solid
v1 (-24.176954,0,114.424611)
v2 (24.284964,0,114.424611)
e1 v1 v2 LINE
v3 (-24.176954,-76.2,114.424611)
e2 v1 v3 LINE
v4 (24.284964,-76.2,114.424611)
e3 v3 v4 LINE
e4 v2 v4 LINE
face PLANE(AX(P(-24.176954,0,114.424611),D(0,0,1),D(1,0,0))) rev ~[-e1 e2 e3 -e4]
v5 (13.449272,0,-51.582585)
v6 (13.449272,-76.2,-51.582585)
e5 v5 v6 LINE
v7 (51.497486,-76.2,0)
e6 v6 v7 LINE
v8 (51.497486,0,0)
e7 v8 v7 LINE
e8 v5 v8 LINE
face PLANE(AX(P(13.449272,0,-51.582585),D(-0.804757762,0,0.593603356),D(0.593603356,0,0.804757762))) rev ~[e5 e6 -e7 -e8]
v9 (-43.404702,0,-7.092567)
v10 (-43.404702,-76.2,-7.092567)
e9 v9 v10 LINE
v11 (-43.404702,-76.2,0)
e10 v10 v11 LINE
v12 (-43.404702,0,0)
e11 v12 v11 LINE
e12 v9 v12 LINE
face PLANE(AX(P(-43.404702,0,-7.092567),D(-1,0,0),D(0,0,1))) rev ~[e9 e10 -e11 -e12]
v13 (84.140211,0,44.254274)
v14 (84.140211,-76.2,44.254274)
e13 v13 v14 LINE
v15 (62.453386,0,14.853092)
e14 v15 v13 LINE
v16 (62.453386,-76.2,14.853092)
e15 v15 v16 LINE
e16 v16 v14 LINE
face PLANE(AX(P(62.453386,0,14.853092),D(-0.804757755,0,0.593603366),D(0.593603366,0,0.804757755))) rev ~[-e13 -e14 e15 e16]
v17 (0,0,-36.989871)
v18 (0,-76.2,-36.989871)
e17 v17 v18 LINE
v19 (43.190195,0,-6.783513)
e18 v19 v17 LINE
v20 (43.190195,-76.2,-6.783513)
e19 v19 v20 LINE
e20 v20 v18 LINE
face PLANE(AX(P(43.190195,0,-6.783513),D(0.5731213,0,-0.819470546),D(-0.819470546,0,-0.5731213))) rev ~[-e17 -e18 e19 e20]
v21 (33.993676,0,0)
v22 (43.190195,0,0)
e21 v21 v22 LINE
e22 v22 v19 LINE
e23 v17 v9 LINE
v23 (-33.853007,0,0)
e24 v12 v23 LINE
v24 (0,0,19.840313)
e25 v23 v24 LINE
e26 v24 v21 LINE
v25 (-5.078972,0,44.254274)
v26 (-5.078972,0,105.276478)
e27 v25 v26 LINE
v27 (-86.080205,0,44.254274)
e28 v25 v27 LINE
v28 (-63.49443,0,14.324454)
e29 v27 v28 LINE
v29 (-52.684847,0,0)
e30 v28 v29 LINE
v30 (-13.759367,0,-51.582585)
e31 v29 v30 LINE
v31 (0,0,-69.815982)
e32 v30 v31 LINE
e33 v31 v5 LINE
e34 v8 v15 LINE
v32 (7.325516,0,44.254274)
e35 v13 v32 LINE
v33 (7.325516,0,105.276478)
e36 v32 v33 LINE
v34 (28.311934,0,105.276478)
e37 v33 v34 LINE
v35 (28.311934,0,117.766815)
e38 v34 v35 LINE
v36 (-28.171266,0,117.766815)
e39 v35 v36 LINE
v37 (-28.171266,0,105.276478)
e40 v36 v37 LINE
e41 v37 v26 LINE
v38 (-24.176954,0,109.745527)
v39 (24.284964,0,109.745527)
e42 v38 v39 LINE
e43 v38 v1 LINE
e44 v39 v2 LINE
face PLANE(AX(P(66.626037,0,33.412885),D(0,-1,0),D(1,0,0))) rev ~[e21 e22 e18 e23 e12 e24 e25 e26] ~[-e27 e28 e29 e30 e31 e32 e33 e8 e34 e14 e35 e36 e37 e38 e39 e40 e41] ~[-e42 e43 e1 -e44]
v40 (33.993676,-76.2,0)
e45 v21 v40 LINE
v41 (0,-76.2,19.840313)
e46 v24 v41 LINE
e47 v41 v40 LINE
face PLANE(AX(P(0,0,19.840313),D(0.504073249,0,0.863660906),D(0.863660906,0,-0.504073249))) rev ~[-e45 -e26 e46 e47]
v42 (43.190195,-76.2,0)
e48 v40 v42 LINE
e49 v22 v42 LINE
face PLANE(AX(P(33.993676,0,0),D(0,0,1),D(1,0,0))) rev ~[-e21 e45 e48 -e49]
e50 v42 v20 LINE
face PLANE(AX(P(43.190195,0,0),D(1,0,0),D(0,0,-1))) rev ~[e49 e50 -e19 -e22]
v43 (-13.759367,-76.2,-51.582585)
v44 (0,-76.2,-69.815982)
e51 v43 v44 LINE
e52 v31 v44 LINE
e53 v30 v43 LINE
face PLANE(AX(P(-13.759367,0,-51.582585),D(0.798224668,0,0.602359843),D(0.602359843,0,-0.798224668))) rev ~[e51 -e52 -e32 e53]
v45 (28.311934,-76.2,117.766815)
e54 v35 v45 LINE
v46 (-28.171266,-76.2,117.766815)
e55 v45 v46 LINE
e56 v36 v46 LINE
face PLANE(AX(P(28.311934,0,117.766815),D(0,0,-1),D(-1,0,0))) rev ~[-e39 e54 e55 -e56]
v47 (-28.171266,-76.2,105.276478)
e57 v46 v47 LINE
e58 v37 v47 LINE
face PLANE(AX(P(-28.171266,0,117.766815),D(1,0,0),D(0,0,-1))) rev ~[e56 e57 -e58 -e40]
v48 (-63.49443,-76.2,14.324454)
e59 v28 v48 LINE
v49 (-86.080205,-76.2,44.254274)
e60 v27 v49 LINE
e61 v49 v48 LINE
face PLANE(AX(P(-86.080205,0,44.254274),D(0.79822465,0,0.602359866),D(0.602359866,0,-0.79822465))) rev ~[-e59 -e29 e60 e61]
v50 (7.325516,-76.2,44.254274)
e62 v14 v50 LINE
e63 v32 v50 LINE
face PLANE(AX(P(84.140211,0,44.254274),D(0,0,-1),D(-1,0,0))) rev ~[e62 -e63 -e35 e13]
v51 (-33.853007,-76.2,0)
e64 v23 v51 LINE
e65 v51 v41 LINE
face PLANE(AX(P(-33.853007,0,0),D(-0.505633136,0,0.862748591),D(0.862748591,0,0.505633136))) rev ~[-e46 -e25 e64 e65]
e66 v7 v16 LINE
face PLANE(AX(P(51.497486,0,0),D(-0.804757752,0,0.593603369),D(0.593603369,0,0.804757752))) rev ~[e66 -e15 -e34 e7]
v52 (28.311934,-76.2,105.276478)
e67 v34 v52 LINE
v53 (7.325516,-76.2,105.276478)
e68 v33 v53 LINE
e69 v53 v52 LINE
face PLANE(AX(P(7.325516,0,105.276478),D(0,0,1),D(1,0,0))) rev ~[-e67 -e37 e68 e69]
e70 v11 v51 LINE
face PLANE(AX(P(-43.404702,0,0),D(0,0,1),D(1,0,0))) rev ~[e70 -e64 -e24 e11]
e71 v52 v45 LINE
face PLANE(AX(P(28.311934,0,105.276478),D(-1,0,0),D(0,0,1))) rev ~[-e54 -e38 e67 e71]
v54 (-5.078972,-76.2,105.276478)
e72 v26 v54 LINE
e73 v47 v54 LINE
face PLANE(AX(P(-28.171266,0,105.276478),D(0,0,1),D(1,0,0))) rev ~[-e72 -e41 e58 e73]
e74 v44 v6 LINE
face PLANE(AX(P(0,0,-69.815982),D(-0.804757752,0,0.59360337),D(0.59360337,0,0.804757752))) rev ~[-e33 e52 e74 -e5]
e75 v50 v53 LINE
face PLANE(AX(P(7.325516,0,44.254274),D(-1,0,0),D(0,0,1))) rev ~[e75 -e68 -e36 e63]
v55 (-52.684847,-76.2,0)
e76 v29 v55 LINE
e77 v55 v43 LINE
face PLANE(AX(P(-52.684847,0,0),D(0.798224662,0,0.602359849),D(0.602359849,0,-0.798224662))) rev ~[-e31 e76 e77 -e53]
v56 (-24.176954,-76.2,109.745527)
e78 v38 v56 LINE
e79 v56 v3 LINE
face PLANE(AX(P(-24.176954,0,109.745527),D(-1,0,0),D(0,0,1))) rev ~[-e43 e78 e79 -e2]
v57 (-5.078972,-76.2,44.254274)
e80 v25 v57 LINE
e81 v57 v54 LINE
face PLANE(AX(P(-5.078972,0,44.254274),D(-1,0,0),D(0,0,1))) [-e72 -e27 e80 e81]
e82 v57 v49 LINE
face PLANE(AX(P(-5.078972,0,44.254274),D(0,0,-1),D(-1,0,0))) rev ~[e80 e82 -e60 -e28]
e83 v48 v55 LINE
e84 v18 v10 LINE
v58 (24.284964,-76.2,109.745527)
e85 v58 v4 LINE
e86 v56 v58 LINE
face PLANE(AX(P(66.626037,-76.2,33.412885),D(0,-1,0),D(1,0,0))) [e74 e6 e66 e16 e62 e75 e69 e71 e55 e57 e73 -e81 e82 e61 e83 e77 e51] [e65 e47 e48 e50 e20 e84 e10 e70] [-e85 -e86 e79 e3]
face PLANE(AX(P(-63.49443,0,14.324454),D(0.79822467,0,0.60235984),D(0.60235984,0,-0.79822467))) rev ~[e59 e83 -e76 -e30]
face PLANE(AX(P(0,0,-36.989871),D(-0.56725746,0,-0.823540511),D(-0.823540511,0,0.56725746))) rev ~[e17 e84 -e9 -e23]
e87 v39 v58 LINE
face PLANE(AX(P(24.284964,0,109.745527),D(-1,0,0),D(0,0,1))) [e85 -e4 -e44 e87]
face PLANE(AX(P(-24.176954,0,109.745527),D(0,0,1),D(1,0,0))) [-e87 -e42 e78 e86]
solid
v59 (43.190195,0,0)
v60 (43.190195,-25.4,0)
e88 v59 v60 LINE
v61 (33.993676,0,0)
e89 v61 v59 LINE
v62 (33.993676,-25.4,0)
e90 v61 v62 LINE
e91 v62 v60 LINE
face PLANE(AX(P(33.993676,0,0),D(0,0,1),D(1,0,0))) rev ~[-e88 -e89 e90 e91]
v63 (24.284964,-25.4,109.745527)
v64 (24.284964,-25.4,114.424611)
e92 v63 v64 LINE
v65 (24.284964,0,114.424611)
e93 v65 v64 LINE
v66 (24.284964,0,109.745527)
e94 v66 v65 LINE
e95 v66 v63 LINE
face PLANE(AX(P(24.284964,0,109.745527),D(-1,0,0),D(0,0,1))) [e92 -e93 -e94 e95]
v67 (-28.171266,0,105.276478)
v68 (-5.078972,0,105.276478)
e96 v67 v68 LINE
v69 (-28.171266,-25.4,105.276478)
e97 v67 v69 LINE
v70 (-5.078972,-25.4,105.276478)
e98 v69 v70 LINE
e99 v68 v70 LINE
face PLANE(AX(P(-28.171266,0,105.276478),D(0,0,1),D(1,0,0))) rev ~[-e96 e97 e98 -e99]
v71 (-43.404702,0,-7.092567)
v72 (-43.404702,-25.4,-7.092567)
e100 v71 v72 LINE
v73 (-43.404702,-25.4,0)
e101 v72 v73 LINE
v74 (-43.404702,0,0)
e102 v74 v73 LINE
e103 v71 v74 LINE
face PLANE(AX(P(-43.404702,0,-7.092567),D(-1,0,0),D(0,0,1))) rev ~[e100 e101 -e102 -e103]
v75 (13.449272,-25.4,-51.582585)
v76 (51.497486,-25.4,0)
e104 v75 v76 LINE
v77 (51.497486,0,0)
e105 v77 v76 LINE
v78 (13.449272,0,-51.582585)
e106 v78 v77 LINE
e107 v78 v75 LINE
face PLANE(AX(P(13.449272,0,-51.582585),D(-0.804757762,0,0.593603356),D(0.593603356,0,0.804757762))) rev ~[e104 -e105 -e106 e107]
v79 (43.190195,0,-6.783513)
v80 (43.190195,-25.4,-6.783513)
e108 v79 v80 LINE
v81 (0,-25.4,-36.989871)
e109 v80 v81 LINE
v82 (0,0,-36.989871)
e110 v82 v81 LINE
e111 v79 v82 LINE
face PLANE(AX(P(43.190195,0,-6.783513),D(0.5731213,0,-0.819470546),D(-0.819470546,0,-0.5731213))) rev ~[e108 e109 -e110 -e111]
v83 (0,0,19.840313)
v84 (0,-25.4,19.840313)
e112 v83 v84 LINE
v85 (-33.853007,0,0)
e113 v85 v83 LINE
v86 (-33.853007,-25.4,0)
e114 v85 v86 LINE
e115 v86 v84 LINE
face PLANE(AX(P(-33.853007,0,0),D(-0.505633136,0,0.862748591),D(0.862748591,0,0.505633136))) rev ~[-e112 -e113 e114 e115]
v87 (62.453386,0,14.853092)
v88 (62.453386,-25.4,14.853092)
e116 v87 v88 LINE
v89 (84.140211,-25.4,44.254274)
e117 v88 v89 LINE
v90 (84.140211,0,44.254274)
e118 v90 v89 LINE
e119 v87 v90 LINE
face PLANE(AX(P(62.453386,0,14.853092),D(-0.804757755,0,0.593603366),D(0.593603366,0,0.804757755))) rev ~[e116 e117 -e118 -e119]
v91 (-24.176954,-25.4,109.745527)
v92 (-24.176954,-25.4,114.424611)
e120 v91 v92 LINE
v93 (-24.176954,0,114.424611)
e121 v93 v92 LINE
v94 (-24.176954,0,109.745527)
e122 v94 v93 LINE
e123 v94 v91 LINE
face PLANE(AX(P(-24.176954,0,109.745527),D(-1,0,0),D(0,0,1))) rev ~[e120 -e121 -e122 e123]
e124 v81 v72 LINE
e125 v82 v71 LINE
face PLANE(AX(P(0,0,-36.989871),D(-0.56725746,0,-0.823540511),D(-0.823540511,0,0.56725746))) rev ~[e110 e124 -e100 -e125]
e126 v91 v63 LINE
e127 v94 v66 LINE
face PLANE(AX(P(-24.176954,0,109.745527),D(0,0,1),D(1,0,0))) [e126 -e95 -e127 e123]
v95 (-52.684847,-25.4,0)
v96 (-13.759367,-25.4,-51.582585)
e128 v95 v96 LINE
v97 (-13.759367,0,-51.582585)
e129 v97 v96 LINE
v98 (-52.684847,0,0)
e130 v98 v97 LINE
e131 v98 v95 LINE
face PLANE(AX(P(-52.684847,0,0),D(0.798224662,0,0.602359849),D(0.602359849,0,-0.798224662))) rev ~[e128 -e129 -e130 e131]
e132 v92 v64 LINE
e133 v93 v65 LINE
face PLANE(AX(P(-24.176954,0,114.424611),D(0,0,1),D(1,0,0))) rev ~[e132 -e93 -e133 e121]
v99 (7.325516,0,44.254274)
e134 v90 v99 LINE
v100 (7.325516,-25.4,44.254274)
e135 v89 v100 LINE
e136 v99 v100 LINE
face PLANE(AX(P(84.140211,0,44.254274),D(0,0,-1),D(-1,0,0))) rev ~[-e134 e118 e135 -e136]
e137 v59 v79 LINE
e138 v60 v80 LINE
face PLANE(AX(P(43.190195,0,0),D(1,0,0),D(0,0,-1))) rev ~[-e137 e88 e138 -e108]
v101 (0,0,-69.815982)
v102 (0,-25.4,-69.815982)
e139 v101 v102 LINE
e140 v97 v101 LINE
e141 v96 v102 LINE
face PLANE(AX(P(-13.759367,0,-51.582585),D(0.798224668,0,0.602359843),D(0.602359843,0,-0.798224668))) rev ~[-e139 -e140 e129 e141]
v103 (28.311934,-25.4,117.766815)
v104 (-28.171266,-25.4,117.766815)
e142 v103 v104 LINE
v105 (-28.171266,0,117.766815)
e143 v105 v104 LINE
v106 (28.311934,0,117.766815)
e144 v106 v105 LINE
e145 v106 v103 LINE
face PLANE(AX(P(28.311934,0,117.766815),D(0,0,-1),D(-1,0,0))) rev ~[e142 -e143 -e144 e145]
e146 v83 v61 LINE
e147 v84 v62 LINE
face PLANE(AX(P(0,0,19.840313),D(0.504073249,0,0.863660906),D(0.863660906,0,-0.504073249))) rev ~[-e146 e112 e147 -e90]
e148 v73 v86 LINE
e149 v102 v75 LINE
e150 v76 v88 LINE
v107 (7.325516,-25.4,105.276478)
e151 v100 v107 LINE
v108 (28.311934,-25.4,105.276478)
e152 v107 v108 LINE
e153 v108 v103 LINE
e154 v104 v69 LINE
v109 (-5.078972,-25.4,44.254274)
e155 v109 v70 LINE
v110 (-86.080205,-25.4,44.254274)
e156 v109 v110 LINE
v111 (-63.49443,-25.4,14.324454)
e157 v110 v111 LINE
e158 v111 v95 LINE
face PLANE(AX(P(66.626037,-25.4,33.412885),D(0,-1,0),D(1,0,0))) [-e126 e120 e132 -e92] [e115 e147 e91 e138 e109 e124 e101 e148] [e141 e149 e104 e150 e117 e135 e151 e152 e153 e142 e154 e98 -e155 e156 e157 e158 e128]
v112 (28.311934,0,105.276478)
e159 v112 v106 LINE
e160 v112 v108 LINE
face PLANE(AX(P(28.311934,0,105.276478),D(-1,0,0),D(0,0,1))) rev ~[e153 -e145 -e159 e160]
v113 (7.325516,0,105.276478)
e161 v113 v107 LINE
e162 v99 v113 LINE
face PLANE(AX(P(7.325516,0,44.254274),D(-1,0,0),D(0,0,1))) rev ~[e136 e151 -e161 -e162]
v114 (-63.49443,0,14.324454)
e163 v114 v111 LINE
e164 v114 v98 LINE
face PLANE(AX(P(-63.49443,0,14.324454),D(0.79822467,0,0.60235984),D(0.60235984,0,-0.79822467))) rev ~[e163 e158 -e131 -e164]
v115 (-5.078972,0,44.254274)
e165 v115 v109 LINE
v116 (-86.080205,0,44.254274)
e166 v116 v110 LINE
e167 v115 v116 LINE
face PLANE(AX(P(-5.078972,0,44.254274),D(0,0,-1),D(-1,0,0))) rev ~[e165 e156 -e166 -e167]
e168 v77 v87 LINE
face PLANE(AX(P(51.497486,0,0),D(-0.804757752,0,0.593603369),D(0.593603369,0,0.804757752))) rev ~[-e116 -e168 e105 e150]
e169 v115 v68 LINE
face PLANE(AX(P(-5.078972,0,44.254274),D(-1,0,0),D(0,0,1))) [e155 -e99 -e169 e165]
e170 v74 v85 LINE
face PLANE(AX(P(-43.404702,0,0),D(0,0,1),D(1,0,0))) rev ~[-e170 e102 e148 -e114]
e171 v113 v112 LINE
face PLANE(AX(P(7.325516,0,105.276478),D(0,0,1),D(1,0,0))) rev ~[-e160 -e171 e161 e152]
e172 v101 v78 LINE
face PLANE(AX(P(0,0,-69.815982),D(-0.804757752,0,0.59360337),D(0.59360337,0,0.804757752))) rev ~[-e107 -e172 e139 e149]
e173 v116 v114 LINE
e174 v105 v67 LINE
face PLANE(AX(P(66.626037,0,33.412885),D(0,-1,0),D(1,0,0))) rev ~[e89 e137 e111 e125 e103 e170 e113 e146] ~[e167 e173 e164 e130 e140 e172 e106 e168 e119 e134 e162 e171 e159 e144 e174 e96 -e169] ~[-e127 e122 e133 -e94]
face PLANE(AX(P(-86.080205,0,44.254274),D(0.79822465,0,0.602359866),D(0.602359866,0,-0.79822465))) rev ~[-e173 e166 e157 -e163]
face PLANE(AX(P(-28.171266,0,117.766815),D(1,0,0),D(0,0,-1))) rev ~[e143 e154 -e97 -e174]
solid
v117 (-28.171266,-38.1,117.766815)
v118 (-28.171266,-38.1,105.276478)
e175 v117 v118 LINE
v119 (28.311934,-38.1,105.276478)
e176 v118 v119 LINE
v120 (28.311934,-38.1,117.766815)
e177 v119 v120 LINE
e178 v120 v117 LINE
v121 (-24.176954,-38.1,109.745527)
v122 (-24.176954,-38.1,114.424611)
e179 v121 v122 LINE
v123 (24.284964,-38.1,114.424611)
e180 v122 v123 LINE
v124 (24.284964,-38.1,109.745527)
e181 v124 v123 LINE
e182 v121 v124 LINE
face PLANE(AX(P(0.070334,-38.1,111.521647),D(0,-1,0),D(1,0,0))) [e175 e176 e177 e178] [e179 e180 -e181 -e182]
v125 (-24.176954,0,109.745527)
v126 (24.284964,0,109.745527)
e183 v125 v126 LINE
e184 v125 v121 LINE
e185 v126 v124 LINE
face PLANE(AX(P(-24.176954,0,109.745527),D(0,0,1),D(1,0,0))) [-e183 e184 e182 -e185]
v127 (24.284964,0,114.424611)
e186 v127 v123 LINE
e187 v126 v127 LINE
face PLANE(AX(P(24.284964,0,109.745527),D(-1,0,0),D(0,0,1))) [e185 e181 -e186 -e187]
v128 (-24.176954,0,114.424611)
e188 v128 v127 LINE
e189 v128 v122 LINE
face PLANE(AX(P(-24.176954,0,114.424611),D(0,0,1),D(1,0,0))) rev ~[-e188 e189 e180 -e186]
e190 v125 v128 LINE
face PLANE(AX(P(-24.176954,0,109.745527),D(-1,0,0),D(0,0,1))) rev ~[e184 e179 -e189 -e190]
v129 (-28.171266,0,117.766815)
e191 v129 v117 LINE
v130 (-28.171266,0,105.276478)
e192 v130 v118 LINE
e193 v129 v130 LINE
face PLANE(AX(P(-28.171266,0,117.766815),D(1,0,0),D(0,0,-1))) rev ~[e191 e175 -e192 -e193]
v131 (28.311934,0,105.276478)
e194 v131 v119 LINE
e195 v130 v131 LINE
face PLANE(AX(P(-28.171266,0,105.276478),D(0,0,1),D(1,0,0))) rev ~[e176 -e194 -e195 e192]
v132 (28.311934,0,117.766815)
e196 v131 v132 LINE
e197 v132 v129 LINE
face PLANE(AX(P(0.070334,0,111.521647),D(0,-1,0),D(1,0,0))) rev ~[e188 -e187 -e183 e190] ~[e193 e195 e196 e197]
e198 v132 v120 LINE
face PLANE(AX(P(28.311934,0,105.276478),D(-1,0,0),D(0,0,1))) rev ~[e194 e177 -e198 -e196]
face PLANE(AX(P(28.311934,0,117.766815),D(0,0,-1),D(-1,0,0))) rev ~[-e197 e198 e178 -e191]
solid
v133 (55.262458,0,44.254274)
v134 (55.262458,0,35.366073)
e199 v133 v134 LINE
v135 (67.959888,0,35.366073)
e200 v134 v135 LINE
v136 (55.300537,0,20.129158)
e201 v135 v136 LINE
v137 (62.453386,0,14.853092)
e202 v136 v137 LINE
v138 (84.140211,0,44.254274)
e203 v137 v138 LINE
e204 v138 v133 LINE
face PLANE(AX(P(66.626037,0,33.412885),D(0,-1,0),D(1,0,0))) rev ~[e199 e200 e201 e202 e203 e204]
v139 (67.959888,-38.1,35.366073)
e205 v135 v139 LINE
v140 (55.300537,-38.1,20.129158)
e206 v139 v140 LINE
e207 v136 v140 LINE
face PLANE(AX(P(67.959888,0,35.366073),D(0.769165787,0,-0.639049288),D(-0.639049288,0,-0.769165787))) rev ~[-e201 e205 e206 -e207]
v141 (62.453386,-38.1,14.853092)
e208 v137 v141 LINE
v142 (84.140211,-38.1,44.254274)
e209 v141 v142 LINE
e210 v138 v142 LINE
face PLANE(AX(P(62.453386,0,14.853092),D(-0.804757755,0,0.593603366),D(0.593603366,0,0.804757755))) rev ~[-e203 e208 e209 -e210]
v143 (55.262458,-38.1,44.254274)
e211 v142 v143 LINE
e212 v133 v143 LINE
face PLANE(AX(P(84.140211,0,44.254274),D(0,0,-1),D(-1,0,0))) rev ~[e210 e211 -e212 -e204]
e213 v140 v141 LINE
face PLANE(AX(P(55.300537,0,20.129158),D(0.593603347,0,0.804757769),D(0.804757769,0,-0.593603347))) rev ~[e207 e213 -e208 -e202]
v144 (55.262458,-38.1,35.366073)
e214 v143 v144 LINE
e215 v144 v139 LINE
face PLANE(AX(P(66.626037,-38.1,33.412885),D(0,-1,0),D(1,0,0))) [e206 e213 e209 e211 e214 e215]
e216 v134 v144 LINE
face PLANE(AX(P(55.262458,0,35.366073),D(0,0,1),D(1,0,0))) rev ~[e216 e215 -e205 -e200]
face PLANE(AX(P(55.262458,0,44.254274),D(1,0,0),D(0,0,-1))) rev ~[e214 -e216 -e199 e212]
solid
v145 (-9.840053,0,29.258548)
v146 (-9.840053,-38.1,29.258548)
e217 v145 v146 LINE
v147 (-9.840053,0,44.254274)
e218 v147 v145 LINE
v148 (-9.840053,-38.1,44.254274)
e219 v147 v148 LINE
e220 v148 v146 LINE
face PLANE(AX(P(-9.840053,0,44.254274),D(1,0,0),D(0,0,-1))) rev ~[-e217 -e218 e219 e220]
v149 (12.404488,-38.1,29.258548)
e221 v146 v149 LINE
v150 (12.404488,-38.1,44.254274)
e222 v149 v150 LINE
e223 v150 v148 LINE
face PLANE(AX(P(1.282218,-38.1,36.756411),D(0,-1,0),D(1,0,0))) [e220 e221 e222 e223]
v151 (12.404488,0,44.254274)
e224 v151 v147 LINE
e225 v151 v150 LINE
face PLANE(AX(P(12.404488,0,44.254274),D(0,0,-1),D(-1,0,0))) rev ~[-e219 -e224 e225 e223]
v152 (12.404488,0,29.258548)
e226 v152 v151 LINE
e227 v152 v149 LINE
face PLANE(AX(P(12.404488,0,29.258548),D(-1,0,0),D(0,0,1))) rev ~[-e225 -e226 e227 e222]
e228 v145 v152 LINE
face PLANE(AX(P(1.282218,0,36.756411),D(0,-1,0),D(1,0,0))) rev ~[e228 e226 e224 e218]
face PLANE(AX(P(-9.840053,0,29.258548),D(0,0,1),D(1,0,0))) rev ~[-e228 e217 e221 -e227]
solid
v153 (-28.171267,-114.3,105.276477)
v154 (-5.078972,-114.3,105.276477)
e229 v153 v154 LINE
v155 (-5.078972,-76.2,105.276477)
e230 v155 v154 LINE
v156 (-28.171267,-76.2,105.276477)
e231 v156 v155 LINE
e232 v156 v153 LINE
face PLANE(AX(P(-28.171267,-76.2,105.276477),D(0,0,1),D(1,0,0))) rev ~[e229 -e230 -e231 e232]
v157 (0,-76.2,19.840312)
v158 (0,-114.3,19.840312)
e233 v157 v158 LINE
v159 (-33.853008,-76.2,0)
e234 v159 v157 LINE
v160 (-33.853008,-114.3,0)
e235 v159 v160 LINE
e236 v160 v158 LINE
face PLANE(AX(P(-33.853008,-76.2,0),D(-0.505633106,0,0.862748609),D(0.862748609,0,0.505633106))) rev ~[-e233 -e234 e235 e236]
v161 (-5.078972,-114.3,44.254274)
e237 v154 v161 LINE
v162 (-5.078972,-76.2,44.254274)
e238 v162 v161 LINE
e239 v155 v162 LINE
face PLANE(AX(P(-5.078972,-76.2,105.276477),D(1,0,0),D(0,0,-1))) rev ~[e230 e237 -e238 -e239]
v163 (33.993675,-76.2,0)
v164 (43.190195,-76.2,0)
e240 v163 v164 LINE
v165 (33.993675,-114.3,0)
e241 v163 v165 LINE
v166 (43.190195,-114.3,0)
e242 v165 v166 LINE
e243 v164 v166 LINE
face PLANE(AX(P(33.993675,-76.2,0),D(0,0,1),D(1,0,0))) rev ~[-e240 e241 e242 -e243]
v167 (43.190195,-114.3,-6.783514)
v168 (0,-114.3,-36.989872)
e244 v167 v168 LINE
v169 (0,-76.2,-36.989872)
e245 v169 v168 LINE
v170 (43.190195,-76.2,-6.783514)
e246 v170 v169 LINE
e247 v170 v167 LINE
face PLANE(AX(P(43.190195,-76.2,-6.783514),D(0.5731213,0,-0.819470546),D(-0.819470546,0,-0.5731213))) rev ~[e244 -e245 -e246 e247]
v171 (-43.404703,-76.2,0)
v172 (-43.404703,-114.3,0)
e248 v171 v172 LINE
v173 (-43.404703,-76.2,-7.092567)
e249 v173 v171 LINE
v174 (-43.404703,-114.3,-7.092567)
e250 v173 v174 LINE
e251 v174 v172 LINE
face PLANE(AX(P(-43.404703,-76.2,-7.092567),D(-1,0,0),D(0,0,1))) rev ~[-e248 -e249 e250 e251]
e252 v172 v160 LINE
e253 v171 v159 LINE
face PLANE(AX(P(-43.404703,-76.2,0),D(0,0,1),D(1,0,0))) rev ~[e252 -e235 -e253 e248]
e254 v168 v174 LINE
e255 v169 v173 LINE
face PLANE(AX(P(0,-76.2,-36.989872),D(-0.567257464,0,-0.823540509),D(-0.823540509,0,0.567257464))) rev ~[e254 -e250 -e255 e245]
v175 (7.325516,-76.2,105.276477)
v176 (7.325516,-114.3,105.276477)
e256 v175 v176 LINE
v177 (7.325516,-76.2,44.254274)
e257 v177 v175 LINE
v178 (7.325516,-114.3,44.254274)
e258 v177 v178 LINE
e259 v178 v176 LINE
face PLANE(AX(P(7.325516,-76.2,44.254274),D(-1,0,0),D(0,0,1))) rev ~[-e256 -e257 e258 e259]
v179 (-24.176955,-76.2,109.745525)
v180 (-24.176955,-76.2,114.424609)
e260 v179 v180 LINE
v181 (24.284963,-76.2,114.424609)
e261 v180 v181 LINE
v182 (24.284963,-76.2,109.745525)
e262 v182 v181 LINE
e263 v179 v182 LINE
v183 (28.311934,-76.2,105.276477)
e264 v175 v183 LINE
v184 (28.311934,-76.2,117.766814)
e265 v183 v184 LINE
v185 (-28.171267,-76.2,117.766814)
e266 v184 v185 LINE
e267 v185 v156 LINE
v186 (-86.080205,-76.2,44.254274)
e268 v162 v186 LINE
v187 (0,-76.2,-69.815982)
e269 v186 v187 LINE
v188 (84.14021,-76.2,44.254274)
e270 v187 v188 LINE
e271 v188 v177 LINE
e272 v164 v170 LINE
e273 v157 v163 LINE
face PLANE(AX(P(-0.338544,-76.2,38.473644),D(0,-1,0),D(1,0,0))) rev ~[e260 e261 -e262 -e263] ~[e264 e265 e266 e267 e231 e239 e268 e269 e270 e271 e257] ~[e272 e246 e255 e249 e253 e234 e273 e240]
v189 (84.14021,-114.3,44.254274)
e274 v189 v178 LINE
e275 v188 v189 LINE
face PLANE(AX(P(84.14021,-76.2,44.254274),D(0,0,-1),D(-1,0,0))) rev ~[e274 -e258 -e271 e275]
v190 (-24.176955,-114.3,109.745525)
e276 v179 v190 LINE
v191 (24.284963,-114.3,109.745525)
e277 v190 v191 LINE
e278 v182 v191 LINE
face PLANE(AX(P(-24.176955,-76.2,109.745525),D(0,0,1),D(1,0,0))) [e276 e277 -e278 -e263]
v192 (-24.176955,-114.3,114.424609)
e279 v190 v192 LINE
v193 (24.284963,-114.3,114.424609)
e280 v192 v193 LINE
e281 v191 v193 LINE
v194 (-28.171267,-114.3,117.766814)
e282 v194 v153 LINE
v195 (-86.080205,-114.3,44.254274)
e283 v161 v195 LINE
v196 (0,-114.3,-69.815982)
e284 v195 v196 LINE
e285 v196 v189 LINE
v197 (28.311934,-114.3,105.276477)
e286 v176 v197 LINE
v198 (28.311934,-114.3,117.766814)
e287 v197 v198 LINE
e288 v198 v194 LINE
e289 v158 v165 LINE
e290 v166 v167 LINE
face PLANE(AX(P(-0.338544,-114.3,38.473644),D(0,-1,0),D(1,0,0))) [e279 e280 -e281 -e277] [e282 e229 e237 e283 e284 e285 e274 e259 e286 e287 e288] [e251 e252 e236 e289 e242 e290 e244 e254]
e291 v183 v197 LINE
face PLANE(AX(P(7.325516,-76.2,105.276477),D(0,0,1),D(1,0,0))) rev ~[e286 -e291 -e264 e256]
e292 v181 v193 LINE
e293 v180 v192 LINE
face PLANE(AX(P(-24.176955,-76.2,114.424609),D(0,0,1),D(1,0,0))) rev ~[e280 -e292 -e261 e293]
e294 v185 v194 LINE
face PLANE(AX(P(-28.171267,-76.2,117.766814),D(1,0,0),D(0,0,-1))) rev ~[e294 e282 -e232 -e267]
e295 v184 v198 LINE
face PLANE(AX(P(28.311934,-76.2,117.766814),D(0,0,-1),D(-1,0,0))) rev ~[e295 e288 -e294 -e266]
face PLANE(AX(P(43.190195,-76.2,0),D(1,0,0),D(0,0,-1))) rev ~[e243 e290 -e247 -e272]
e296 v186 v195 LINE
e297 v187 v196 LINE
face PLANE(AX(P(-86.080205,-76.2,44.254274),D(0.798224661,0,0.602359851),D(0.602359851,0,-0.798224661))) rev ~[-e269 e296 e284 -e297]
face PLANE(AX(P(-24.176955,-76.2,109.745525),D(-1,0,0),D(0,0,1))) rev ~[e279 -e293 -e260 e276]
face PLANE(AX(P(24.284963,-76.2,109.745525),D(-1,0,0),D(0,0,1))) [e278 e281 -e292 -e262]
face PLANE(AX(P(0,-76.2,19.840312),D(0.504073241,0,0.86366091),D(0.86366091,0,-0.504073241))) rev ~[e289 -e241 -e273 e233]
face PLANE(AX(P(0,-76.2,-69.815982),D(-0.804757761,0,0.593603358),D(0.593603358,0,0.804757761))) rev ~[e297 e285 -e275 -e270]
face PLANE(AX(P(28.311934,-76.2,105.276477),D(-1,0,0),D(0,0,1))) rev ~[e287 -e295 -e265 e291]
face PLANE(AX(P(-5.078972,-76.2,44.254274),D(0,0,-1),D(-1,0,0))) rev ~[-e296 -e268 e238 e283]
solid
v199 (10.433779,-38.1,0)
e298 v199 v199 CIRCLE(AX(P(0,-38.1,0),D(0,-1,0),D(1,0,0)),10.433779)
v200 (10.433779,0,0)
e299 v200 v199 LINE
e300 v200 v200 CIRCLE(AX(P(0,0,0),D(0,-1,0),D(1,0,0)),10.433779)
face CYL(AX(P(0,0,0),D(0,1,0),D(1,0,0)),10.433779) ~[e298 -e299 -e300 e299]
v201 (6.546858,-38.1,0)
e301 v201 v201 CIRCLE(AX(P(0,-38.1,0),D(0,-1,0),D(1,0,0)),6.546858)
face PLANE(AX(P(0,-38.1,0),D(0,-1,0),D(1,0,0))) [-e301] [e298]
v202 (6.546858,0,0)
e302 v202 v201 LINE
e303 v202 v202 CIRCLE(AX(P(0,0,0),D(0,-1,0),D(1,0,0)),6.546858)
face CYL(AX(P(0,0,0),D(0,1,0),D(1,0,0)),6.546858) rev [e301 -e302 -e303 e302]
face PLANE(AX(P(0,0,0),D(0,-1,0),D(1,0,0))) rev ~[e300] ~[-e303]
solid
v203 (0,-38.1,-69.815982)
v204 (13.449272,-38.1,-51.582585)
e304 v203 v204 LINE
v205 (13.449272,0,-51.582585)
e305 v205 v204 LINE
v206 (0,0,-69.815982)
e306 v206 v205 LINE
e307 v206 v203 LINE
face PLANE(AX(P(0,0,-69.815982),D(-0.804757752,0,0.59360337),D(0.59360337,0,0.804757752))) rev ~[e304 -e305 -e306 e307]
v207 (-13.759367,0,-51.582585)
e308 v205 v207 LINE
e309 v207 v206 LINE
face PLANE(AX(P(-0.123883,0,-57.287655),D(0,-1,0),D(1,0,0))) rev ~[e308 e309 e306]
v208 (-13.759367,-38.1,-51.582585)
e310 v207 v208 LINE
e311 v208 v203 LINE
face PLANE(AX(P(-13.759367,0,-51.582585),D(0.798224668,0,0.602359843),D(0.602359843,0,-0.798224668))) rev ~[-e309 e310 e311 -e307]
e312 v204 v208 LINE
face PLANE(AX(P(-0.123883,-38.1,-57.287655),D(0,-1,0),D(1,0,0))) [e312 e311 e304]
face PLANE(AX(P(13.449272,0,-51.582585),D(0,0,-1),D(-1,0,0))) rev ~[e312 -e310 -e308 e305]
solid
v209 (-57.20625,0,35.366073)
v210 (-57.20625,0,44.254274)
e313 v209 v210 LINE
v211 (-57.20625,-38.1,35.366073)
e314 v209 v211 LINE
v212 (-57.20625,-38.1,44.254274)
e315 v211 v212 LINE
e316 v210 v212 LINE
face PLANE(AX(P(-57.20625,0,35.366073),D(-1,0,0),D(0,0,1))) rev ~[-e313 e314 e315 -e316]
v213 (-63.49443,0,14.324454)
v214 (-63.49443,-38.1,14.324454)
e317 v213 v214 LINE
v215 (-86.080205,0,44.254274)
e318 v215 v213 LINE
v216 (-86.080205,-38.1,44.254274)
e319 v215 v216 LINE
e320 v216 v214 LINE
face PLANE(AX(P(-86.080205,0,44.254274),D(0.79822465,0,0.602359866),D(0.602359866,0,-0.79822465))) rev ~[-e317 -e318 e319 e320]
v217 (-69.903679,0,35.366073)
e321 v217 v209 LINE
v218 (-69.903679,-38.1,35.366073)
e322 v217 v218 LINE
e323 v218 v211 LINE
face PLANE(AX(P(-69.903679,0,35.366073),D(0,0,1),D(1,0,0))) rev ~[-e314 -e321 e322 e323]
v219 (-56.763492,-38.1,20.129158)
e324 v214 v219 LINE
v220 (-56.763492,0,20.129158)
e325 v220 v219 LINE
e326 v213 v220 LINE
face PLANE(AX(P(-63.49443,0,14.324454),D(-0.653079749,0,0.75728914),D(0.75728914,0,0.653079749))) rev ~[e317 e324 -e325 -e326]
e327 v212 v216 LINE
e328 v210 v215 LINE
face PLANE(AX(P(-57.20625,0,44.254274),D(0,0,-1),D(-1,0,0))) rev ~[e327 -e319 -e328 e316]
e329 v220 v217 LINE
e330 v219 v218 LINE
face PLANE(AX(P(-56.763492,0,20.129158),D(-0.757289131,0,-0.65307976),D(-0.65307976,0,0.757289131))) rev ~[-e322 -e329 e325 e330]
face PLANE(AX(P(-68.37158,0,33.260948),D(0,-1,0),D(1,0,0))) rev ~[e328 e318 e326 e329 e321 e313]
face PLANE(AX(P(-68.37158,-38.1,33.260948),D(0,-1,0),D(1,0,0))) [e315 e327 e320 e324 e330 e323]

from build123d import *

# Parameters (mm, degrees)
F0_W      = 48.461918
F0_H      = 4.679083
F0_R      = 10.433779
F0_R_2    = 6.546858
F1_DEPTH  = 38.1
F0_W_2    = 12.404488
F0_H_2    = 61.022204
F2_DEPTH  = 76.2
F2_FACE_W = 48.461918
F2_FACE_H = 4.679083
F3_DEPTH  = 38.1
F4_DEPTH  = 25.4


with BuildPart() as f1:
    # F0 (on Front) → F1 (new body)
    with BuildSketch(Plane.XZ):
        Polygon((62.453386, 14.853092), (84.140211, 44.254274), (55.262458, 44.254274), (55.262458, 35.366073), (67.959888, 35.366073), (55.300537, 20.129158), align=None)
        Polygon((0, -69.815982), (13.449272, -51.582585), (-13.759367, -51.582585), align=None)
        Polygon((-86.080205, 44.254274), (-63.49443, 14.324454), (-56.763492, 20.129158), (-69.903679, 35.366073), (-57.20625, 35.366073), (-57.20625, 44.254274), align=None)
        Polygon((12.404488, 29.258548), (12.404488, 44.254274), (7.325516, 44.254274), (-5.078972, 44.254274), (-9.840053, 44.254274), (-9.840053, 29.258548), align=None)
        Polygon((-5.078972, 105.276478), (7.325516, 105.276478), (28.311934, 105.276478), (28.311934, 117.766815), (-28.171266, 117.766815), (-28.171266, 105.276478), align=None)
        with Locations((0.054005, 112.085069)):
            Rectangle(F0_W, F0_H, mode=Mode.SUBTRACT)
        Circle(F0_R)
        Circle(F0_R_2, mode=Mode.SUBTRACT)
    extrude(amount=F1_DEPTH)


with BuildPart() as f2:
    # F0 (on Front) → F2 (new body)
    with BuildSketch(Plane.XZ):
        Polygon((62.453386, 14.853092), (84.140211, 44.254274), (55.262458, 44.254274), (55.262458, 35.366073), (67.959888, 35.366073), (55.300537, 20.129158), align=None)
        Polygon((51.497486, 0), (62.453386, 14.853092), (55.300537, 20.129158), (67.959888, 35.366073), (55.262458, 35.366073), (55.262458, 44.254274), (26.752584, 44.254274), (26.752584, 29.258548), (48.084265, 29.258548), (31.147928, 15.80614), (47.033537, 11.320921), (33.993676, 0), (43.190195, 0), align=None)
        Polygon((13.449272, -51.582585), (51.497486, 0), (43.190195, 0), (43.190195, -6.783513), (0, -36.989871), (-43.404702, -7.092567), (-43.404702, 0), (-52.684847, 0), (-13.759367, -51.582585), align=None)
        Polygon((26.752584, 29.258548), (26.752584, 44.254274), (12.404488, 44.254274), (12.404488, 29.258548), (-9.840053, 29.258548), (-9.840053, 44.254274), (-24.176954, 44.254274), (-24.176954, 29.258548), (-45.508636, 29.258548), (-33.828657, 17.594593), (-48.606484, 8.974194), (-33.853007, 0), (0, 19.840313), (33.993676, 0), (47.033537, 11.320921), (31.147928, 15.80614), (48.084265, 29.258548), align=None)
        Polygon((0, -69.815982), (13.449272, -51.582585), (-13.759367, -51.582585), align=None)
        Polygon((12.404488, 29.258548), (12.404488, 44.254274), (7.325516, 44.254274), (-5.078972, 44.254274), (-9.840053, 44.254274), (-9.840053, 29.258548), align=None)
        with Locations((1.123272, 74.765376)):
            Rectangle(F0_W_2, F0_H_2)
        Polygon((-63.49443, 14.324454), (-52.684847, 0), (-43.404702, 0), (-41.229746, 0), (-33.853007, 0), (-48.606484, 8.974194), (-33.828657, 17.594593), (-45.508636, 29.258548), (-24.176954, 29.258548), (-24.176954, 44.254274), (-57.20625, 44.254274), (-57.20625, 35.366073), (-69.903679, 35.366073), (-56.763492, 20.129158), align=None)
        Polygon((-5.078972, 105.276478), (7.325516, 105.276478), (28.311934, 105.276478), (28.311934, 117.766815), (-28.171266, 117.766815), (-28.171266, 105.276478), align=None)
        with Locations((0.054005, 112.085069)):
            Rectangle(F0_W, F0_H, mode=Mode.SUBTRACT)
        Polygon((-86.080205, 44.254274), (-63.49443, 14.324454), (-56.763492, 20.129158), (-69.903679, 35.366073), (-57.20625, 35.366073), (-57.20625, 44.254274), align=None)
    extrude(amount=F2_DEPTH)


with BuildPart() as f3:
    # F2_face (on face) → F3 (new body)
    with BuildSketch(Plane(origin=(-0.605972, -76.2, 22.707464), x_dir=(1, 0, 0), z_dir=(0, -1, 0))):
        Polygon((7.931488, 82.569013), (28.917906, 82.569013), (28.917906, 95.05935), (-27.565295, 95.05935), (-27.565295, 82.569013), (-4.473, 82.569013), (-4.473, 21.54681), (-85.474233, 21.54681), (0.605972, -92.523446), (84.746182, 21.54681), (7.931488, 21.54681), align=None)
        with Locations((0.659976, 89.377603)):
            Rectangle(F2_FACE_W, F2_FACE_H, mode=Mode.SUBTRACT)
        Polygon((-42.798731, -22.707464), (-33.247036, -22.707464), (0.605972, -2.867152), (34.599647, -22.707464), (43.796167, -22.707464), (43.796167, -29.490978), (0.605972, -59.697336), (-42.798731, -29.800031), align=None, mode=Mode.SUBTRACT)
    extrude(amount=F3_DEPTH)


with BuildPart() as f4:
    # F0 (on Front) → F4 (new body)
    with BuildSketch(Plane.XZ):
        Polygon((62.453386, 14.853092), (84.140211, 44.254274), (55.262458, 44.254274), (55.262458, 35.366073), (67.959888, 35.366073), (55.300537, 20.129158), align=None)
        Polygon((51.497486, 0), (62.453386, 14.853092), (55.300537, 20.129158), (67.959888, 35.366073), (55.262458, 35.366073), (55.262458, 44.254274), (26.752584, 44.254274), (26.752584, 29.258548), (48.084265, 29.258548), (31.147928, 15.80614), (47.033537, 11.320921), (33.993676, 0), (43.190195, 0), align=None)
        Polygon((13.449272, -51.582585), (51.497486, 0), (43.190195, 0), (43.190195, -6.783513), (0, -36.989871), (-43.404702, -7.092567), (-43.404702, 0), (-52.684847, 0), (-13.759367, -51.582585), align=None)
        Polygon((26.752584, 29.258548), (26.752584, 44.254274), (12.404488, 44.254274), (12.404488, 29.258548), (-9.840053, 29.258548), (-9.840053, 44.254274), (-24.176954, 44.254274), (-24.176954, 29.258548), (-45.508636, 29.258548), (-33.828657, 17.594593), (-48.606484, 8.974194), (-33.853007, 0), (0, 19.840313), (33.993676, 0), (47.033537, 11.320921), (31.147928, 15.80614), (48.084265, 29.258548), align=None)
        Polygon((0, -69.815982), (13.449272, -51.582585), (-13.759367, -51.582585), align=None)
        Polygon((12.404488, 29.258548), (12.404488, 44.254274), (7.325516, 44.254274), (-5.078972, 44.254274), (-9.840053, 44.254274), (-9.840053, 29.258548), align=None)
        with Locations((1.123272, 74.765376)):
            Rectangle(F0_W_2, F0_H_2)
        Polygon((-63.49443, 14.324454), (-52.684847, 0), (-43.404702, 0), (-41.229746, 0), (-33.853007, 0), (-48.606484, 8.974194), (-33.828657, 17.594593), (-45.508636, 29.258548), (-24.176954, 29.258548), (-24.176954, 44.254274), (-57.20625, 44.254274), (-57.20625, 35.366073), (-69.903679, 35.366073), (-56.763492, 20.129158), align=None)
        Polygon((-5.078972, 105.276478), (7.325516, 105.276478), (28.311934, 105.276478), (28.311934, 117.766815), (-28.171266, 117.766815), (-28.171266, 105.276478), align=None)
        with Locations((0.054005, 112.085069)):
            Rectangle(F0_W, F0_H, mode=Mode.SUBTRACT)
        Polygon((-86.080205, 44.254274), (-63.49443, 14.324454), (-56.763492, 20.129158), (-69.903679, 35.366073), (-57.20625, 35.366073), (-57.20625, 44.254274), align=None)
    extrude(amount=F4_DEPTH)


solid = Compound([f1.part, f2.part, f3.part, f4.part])
